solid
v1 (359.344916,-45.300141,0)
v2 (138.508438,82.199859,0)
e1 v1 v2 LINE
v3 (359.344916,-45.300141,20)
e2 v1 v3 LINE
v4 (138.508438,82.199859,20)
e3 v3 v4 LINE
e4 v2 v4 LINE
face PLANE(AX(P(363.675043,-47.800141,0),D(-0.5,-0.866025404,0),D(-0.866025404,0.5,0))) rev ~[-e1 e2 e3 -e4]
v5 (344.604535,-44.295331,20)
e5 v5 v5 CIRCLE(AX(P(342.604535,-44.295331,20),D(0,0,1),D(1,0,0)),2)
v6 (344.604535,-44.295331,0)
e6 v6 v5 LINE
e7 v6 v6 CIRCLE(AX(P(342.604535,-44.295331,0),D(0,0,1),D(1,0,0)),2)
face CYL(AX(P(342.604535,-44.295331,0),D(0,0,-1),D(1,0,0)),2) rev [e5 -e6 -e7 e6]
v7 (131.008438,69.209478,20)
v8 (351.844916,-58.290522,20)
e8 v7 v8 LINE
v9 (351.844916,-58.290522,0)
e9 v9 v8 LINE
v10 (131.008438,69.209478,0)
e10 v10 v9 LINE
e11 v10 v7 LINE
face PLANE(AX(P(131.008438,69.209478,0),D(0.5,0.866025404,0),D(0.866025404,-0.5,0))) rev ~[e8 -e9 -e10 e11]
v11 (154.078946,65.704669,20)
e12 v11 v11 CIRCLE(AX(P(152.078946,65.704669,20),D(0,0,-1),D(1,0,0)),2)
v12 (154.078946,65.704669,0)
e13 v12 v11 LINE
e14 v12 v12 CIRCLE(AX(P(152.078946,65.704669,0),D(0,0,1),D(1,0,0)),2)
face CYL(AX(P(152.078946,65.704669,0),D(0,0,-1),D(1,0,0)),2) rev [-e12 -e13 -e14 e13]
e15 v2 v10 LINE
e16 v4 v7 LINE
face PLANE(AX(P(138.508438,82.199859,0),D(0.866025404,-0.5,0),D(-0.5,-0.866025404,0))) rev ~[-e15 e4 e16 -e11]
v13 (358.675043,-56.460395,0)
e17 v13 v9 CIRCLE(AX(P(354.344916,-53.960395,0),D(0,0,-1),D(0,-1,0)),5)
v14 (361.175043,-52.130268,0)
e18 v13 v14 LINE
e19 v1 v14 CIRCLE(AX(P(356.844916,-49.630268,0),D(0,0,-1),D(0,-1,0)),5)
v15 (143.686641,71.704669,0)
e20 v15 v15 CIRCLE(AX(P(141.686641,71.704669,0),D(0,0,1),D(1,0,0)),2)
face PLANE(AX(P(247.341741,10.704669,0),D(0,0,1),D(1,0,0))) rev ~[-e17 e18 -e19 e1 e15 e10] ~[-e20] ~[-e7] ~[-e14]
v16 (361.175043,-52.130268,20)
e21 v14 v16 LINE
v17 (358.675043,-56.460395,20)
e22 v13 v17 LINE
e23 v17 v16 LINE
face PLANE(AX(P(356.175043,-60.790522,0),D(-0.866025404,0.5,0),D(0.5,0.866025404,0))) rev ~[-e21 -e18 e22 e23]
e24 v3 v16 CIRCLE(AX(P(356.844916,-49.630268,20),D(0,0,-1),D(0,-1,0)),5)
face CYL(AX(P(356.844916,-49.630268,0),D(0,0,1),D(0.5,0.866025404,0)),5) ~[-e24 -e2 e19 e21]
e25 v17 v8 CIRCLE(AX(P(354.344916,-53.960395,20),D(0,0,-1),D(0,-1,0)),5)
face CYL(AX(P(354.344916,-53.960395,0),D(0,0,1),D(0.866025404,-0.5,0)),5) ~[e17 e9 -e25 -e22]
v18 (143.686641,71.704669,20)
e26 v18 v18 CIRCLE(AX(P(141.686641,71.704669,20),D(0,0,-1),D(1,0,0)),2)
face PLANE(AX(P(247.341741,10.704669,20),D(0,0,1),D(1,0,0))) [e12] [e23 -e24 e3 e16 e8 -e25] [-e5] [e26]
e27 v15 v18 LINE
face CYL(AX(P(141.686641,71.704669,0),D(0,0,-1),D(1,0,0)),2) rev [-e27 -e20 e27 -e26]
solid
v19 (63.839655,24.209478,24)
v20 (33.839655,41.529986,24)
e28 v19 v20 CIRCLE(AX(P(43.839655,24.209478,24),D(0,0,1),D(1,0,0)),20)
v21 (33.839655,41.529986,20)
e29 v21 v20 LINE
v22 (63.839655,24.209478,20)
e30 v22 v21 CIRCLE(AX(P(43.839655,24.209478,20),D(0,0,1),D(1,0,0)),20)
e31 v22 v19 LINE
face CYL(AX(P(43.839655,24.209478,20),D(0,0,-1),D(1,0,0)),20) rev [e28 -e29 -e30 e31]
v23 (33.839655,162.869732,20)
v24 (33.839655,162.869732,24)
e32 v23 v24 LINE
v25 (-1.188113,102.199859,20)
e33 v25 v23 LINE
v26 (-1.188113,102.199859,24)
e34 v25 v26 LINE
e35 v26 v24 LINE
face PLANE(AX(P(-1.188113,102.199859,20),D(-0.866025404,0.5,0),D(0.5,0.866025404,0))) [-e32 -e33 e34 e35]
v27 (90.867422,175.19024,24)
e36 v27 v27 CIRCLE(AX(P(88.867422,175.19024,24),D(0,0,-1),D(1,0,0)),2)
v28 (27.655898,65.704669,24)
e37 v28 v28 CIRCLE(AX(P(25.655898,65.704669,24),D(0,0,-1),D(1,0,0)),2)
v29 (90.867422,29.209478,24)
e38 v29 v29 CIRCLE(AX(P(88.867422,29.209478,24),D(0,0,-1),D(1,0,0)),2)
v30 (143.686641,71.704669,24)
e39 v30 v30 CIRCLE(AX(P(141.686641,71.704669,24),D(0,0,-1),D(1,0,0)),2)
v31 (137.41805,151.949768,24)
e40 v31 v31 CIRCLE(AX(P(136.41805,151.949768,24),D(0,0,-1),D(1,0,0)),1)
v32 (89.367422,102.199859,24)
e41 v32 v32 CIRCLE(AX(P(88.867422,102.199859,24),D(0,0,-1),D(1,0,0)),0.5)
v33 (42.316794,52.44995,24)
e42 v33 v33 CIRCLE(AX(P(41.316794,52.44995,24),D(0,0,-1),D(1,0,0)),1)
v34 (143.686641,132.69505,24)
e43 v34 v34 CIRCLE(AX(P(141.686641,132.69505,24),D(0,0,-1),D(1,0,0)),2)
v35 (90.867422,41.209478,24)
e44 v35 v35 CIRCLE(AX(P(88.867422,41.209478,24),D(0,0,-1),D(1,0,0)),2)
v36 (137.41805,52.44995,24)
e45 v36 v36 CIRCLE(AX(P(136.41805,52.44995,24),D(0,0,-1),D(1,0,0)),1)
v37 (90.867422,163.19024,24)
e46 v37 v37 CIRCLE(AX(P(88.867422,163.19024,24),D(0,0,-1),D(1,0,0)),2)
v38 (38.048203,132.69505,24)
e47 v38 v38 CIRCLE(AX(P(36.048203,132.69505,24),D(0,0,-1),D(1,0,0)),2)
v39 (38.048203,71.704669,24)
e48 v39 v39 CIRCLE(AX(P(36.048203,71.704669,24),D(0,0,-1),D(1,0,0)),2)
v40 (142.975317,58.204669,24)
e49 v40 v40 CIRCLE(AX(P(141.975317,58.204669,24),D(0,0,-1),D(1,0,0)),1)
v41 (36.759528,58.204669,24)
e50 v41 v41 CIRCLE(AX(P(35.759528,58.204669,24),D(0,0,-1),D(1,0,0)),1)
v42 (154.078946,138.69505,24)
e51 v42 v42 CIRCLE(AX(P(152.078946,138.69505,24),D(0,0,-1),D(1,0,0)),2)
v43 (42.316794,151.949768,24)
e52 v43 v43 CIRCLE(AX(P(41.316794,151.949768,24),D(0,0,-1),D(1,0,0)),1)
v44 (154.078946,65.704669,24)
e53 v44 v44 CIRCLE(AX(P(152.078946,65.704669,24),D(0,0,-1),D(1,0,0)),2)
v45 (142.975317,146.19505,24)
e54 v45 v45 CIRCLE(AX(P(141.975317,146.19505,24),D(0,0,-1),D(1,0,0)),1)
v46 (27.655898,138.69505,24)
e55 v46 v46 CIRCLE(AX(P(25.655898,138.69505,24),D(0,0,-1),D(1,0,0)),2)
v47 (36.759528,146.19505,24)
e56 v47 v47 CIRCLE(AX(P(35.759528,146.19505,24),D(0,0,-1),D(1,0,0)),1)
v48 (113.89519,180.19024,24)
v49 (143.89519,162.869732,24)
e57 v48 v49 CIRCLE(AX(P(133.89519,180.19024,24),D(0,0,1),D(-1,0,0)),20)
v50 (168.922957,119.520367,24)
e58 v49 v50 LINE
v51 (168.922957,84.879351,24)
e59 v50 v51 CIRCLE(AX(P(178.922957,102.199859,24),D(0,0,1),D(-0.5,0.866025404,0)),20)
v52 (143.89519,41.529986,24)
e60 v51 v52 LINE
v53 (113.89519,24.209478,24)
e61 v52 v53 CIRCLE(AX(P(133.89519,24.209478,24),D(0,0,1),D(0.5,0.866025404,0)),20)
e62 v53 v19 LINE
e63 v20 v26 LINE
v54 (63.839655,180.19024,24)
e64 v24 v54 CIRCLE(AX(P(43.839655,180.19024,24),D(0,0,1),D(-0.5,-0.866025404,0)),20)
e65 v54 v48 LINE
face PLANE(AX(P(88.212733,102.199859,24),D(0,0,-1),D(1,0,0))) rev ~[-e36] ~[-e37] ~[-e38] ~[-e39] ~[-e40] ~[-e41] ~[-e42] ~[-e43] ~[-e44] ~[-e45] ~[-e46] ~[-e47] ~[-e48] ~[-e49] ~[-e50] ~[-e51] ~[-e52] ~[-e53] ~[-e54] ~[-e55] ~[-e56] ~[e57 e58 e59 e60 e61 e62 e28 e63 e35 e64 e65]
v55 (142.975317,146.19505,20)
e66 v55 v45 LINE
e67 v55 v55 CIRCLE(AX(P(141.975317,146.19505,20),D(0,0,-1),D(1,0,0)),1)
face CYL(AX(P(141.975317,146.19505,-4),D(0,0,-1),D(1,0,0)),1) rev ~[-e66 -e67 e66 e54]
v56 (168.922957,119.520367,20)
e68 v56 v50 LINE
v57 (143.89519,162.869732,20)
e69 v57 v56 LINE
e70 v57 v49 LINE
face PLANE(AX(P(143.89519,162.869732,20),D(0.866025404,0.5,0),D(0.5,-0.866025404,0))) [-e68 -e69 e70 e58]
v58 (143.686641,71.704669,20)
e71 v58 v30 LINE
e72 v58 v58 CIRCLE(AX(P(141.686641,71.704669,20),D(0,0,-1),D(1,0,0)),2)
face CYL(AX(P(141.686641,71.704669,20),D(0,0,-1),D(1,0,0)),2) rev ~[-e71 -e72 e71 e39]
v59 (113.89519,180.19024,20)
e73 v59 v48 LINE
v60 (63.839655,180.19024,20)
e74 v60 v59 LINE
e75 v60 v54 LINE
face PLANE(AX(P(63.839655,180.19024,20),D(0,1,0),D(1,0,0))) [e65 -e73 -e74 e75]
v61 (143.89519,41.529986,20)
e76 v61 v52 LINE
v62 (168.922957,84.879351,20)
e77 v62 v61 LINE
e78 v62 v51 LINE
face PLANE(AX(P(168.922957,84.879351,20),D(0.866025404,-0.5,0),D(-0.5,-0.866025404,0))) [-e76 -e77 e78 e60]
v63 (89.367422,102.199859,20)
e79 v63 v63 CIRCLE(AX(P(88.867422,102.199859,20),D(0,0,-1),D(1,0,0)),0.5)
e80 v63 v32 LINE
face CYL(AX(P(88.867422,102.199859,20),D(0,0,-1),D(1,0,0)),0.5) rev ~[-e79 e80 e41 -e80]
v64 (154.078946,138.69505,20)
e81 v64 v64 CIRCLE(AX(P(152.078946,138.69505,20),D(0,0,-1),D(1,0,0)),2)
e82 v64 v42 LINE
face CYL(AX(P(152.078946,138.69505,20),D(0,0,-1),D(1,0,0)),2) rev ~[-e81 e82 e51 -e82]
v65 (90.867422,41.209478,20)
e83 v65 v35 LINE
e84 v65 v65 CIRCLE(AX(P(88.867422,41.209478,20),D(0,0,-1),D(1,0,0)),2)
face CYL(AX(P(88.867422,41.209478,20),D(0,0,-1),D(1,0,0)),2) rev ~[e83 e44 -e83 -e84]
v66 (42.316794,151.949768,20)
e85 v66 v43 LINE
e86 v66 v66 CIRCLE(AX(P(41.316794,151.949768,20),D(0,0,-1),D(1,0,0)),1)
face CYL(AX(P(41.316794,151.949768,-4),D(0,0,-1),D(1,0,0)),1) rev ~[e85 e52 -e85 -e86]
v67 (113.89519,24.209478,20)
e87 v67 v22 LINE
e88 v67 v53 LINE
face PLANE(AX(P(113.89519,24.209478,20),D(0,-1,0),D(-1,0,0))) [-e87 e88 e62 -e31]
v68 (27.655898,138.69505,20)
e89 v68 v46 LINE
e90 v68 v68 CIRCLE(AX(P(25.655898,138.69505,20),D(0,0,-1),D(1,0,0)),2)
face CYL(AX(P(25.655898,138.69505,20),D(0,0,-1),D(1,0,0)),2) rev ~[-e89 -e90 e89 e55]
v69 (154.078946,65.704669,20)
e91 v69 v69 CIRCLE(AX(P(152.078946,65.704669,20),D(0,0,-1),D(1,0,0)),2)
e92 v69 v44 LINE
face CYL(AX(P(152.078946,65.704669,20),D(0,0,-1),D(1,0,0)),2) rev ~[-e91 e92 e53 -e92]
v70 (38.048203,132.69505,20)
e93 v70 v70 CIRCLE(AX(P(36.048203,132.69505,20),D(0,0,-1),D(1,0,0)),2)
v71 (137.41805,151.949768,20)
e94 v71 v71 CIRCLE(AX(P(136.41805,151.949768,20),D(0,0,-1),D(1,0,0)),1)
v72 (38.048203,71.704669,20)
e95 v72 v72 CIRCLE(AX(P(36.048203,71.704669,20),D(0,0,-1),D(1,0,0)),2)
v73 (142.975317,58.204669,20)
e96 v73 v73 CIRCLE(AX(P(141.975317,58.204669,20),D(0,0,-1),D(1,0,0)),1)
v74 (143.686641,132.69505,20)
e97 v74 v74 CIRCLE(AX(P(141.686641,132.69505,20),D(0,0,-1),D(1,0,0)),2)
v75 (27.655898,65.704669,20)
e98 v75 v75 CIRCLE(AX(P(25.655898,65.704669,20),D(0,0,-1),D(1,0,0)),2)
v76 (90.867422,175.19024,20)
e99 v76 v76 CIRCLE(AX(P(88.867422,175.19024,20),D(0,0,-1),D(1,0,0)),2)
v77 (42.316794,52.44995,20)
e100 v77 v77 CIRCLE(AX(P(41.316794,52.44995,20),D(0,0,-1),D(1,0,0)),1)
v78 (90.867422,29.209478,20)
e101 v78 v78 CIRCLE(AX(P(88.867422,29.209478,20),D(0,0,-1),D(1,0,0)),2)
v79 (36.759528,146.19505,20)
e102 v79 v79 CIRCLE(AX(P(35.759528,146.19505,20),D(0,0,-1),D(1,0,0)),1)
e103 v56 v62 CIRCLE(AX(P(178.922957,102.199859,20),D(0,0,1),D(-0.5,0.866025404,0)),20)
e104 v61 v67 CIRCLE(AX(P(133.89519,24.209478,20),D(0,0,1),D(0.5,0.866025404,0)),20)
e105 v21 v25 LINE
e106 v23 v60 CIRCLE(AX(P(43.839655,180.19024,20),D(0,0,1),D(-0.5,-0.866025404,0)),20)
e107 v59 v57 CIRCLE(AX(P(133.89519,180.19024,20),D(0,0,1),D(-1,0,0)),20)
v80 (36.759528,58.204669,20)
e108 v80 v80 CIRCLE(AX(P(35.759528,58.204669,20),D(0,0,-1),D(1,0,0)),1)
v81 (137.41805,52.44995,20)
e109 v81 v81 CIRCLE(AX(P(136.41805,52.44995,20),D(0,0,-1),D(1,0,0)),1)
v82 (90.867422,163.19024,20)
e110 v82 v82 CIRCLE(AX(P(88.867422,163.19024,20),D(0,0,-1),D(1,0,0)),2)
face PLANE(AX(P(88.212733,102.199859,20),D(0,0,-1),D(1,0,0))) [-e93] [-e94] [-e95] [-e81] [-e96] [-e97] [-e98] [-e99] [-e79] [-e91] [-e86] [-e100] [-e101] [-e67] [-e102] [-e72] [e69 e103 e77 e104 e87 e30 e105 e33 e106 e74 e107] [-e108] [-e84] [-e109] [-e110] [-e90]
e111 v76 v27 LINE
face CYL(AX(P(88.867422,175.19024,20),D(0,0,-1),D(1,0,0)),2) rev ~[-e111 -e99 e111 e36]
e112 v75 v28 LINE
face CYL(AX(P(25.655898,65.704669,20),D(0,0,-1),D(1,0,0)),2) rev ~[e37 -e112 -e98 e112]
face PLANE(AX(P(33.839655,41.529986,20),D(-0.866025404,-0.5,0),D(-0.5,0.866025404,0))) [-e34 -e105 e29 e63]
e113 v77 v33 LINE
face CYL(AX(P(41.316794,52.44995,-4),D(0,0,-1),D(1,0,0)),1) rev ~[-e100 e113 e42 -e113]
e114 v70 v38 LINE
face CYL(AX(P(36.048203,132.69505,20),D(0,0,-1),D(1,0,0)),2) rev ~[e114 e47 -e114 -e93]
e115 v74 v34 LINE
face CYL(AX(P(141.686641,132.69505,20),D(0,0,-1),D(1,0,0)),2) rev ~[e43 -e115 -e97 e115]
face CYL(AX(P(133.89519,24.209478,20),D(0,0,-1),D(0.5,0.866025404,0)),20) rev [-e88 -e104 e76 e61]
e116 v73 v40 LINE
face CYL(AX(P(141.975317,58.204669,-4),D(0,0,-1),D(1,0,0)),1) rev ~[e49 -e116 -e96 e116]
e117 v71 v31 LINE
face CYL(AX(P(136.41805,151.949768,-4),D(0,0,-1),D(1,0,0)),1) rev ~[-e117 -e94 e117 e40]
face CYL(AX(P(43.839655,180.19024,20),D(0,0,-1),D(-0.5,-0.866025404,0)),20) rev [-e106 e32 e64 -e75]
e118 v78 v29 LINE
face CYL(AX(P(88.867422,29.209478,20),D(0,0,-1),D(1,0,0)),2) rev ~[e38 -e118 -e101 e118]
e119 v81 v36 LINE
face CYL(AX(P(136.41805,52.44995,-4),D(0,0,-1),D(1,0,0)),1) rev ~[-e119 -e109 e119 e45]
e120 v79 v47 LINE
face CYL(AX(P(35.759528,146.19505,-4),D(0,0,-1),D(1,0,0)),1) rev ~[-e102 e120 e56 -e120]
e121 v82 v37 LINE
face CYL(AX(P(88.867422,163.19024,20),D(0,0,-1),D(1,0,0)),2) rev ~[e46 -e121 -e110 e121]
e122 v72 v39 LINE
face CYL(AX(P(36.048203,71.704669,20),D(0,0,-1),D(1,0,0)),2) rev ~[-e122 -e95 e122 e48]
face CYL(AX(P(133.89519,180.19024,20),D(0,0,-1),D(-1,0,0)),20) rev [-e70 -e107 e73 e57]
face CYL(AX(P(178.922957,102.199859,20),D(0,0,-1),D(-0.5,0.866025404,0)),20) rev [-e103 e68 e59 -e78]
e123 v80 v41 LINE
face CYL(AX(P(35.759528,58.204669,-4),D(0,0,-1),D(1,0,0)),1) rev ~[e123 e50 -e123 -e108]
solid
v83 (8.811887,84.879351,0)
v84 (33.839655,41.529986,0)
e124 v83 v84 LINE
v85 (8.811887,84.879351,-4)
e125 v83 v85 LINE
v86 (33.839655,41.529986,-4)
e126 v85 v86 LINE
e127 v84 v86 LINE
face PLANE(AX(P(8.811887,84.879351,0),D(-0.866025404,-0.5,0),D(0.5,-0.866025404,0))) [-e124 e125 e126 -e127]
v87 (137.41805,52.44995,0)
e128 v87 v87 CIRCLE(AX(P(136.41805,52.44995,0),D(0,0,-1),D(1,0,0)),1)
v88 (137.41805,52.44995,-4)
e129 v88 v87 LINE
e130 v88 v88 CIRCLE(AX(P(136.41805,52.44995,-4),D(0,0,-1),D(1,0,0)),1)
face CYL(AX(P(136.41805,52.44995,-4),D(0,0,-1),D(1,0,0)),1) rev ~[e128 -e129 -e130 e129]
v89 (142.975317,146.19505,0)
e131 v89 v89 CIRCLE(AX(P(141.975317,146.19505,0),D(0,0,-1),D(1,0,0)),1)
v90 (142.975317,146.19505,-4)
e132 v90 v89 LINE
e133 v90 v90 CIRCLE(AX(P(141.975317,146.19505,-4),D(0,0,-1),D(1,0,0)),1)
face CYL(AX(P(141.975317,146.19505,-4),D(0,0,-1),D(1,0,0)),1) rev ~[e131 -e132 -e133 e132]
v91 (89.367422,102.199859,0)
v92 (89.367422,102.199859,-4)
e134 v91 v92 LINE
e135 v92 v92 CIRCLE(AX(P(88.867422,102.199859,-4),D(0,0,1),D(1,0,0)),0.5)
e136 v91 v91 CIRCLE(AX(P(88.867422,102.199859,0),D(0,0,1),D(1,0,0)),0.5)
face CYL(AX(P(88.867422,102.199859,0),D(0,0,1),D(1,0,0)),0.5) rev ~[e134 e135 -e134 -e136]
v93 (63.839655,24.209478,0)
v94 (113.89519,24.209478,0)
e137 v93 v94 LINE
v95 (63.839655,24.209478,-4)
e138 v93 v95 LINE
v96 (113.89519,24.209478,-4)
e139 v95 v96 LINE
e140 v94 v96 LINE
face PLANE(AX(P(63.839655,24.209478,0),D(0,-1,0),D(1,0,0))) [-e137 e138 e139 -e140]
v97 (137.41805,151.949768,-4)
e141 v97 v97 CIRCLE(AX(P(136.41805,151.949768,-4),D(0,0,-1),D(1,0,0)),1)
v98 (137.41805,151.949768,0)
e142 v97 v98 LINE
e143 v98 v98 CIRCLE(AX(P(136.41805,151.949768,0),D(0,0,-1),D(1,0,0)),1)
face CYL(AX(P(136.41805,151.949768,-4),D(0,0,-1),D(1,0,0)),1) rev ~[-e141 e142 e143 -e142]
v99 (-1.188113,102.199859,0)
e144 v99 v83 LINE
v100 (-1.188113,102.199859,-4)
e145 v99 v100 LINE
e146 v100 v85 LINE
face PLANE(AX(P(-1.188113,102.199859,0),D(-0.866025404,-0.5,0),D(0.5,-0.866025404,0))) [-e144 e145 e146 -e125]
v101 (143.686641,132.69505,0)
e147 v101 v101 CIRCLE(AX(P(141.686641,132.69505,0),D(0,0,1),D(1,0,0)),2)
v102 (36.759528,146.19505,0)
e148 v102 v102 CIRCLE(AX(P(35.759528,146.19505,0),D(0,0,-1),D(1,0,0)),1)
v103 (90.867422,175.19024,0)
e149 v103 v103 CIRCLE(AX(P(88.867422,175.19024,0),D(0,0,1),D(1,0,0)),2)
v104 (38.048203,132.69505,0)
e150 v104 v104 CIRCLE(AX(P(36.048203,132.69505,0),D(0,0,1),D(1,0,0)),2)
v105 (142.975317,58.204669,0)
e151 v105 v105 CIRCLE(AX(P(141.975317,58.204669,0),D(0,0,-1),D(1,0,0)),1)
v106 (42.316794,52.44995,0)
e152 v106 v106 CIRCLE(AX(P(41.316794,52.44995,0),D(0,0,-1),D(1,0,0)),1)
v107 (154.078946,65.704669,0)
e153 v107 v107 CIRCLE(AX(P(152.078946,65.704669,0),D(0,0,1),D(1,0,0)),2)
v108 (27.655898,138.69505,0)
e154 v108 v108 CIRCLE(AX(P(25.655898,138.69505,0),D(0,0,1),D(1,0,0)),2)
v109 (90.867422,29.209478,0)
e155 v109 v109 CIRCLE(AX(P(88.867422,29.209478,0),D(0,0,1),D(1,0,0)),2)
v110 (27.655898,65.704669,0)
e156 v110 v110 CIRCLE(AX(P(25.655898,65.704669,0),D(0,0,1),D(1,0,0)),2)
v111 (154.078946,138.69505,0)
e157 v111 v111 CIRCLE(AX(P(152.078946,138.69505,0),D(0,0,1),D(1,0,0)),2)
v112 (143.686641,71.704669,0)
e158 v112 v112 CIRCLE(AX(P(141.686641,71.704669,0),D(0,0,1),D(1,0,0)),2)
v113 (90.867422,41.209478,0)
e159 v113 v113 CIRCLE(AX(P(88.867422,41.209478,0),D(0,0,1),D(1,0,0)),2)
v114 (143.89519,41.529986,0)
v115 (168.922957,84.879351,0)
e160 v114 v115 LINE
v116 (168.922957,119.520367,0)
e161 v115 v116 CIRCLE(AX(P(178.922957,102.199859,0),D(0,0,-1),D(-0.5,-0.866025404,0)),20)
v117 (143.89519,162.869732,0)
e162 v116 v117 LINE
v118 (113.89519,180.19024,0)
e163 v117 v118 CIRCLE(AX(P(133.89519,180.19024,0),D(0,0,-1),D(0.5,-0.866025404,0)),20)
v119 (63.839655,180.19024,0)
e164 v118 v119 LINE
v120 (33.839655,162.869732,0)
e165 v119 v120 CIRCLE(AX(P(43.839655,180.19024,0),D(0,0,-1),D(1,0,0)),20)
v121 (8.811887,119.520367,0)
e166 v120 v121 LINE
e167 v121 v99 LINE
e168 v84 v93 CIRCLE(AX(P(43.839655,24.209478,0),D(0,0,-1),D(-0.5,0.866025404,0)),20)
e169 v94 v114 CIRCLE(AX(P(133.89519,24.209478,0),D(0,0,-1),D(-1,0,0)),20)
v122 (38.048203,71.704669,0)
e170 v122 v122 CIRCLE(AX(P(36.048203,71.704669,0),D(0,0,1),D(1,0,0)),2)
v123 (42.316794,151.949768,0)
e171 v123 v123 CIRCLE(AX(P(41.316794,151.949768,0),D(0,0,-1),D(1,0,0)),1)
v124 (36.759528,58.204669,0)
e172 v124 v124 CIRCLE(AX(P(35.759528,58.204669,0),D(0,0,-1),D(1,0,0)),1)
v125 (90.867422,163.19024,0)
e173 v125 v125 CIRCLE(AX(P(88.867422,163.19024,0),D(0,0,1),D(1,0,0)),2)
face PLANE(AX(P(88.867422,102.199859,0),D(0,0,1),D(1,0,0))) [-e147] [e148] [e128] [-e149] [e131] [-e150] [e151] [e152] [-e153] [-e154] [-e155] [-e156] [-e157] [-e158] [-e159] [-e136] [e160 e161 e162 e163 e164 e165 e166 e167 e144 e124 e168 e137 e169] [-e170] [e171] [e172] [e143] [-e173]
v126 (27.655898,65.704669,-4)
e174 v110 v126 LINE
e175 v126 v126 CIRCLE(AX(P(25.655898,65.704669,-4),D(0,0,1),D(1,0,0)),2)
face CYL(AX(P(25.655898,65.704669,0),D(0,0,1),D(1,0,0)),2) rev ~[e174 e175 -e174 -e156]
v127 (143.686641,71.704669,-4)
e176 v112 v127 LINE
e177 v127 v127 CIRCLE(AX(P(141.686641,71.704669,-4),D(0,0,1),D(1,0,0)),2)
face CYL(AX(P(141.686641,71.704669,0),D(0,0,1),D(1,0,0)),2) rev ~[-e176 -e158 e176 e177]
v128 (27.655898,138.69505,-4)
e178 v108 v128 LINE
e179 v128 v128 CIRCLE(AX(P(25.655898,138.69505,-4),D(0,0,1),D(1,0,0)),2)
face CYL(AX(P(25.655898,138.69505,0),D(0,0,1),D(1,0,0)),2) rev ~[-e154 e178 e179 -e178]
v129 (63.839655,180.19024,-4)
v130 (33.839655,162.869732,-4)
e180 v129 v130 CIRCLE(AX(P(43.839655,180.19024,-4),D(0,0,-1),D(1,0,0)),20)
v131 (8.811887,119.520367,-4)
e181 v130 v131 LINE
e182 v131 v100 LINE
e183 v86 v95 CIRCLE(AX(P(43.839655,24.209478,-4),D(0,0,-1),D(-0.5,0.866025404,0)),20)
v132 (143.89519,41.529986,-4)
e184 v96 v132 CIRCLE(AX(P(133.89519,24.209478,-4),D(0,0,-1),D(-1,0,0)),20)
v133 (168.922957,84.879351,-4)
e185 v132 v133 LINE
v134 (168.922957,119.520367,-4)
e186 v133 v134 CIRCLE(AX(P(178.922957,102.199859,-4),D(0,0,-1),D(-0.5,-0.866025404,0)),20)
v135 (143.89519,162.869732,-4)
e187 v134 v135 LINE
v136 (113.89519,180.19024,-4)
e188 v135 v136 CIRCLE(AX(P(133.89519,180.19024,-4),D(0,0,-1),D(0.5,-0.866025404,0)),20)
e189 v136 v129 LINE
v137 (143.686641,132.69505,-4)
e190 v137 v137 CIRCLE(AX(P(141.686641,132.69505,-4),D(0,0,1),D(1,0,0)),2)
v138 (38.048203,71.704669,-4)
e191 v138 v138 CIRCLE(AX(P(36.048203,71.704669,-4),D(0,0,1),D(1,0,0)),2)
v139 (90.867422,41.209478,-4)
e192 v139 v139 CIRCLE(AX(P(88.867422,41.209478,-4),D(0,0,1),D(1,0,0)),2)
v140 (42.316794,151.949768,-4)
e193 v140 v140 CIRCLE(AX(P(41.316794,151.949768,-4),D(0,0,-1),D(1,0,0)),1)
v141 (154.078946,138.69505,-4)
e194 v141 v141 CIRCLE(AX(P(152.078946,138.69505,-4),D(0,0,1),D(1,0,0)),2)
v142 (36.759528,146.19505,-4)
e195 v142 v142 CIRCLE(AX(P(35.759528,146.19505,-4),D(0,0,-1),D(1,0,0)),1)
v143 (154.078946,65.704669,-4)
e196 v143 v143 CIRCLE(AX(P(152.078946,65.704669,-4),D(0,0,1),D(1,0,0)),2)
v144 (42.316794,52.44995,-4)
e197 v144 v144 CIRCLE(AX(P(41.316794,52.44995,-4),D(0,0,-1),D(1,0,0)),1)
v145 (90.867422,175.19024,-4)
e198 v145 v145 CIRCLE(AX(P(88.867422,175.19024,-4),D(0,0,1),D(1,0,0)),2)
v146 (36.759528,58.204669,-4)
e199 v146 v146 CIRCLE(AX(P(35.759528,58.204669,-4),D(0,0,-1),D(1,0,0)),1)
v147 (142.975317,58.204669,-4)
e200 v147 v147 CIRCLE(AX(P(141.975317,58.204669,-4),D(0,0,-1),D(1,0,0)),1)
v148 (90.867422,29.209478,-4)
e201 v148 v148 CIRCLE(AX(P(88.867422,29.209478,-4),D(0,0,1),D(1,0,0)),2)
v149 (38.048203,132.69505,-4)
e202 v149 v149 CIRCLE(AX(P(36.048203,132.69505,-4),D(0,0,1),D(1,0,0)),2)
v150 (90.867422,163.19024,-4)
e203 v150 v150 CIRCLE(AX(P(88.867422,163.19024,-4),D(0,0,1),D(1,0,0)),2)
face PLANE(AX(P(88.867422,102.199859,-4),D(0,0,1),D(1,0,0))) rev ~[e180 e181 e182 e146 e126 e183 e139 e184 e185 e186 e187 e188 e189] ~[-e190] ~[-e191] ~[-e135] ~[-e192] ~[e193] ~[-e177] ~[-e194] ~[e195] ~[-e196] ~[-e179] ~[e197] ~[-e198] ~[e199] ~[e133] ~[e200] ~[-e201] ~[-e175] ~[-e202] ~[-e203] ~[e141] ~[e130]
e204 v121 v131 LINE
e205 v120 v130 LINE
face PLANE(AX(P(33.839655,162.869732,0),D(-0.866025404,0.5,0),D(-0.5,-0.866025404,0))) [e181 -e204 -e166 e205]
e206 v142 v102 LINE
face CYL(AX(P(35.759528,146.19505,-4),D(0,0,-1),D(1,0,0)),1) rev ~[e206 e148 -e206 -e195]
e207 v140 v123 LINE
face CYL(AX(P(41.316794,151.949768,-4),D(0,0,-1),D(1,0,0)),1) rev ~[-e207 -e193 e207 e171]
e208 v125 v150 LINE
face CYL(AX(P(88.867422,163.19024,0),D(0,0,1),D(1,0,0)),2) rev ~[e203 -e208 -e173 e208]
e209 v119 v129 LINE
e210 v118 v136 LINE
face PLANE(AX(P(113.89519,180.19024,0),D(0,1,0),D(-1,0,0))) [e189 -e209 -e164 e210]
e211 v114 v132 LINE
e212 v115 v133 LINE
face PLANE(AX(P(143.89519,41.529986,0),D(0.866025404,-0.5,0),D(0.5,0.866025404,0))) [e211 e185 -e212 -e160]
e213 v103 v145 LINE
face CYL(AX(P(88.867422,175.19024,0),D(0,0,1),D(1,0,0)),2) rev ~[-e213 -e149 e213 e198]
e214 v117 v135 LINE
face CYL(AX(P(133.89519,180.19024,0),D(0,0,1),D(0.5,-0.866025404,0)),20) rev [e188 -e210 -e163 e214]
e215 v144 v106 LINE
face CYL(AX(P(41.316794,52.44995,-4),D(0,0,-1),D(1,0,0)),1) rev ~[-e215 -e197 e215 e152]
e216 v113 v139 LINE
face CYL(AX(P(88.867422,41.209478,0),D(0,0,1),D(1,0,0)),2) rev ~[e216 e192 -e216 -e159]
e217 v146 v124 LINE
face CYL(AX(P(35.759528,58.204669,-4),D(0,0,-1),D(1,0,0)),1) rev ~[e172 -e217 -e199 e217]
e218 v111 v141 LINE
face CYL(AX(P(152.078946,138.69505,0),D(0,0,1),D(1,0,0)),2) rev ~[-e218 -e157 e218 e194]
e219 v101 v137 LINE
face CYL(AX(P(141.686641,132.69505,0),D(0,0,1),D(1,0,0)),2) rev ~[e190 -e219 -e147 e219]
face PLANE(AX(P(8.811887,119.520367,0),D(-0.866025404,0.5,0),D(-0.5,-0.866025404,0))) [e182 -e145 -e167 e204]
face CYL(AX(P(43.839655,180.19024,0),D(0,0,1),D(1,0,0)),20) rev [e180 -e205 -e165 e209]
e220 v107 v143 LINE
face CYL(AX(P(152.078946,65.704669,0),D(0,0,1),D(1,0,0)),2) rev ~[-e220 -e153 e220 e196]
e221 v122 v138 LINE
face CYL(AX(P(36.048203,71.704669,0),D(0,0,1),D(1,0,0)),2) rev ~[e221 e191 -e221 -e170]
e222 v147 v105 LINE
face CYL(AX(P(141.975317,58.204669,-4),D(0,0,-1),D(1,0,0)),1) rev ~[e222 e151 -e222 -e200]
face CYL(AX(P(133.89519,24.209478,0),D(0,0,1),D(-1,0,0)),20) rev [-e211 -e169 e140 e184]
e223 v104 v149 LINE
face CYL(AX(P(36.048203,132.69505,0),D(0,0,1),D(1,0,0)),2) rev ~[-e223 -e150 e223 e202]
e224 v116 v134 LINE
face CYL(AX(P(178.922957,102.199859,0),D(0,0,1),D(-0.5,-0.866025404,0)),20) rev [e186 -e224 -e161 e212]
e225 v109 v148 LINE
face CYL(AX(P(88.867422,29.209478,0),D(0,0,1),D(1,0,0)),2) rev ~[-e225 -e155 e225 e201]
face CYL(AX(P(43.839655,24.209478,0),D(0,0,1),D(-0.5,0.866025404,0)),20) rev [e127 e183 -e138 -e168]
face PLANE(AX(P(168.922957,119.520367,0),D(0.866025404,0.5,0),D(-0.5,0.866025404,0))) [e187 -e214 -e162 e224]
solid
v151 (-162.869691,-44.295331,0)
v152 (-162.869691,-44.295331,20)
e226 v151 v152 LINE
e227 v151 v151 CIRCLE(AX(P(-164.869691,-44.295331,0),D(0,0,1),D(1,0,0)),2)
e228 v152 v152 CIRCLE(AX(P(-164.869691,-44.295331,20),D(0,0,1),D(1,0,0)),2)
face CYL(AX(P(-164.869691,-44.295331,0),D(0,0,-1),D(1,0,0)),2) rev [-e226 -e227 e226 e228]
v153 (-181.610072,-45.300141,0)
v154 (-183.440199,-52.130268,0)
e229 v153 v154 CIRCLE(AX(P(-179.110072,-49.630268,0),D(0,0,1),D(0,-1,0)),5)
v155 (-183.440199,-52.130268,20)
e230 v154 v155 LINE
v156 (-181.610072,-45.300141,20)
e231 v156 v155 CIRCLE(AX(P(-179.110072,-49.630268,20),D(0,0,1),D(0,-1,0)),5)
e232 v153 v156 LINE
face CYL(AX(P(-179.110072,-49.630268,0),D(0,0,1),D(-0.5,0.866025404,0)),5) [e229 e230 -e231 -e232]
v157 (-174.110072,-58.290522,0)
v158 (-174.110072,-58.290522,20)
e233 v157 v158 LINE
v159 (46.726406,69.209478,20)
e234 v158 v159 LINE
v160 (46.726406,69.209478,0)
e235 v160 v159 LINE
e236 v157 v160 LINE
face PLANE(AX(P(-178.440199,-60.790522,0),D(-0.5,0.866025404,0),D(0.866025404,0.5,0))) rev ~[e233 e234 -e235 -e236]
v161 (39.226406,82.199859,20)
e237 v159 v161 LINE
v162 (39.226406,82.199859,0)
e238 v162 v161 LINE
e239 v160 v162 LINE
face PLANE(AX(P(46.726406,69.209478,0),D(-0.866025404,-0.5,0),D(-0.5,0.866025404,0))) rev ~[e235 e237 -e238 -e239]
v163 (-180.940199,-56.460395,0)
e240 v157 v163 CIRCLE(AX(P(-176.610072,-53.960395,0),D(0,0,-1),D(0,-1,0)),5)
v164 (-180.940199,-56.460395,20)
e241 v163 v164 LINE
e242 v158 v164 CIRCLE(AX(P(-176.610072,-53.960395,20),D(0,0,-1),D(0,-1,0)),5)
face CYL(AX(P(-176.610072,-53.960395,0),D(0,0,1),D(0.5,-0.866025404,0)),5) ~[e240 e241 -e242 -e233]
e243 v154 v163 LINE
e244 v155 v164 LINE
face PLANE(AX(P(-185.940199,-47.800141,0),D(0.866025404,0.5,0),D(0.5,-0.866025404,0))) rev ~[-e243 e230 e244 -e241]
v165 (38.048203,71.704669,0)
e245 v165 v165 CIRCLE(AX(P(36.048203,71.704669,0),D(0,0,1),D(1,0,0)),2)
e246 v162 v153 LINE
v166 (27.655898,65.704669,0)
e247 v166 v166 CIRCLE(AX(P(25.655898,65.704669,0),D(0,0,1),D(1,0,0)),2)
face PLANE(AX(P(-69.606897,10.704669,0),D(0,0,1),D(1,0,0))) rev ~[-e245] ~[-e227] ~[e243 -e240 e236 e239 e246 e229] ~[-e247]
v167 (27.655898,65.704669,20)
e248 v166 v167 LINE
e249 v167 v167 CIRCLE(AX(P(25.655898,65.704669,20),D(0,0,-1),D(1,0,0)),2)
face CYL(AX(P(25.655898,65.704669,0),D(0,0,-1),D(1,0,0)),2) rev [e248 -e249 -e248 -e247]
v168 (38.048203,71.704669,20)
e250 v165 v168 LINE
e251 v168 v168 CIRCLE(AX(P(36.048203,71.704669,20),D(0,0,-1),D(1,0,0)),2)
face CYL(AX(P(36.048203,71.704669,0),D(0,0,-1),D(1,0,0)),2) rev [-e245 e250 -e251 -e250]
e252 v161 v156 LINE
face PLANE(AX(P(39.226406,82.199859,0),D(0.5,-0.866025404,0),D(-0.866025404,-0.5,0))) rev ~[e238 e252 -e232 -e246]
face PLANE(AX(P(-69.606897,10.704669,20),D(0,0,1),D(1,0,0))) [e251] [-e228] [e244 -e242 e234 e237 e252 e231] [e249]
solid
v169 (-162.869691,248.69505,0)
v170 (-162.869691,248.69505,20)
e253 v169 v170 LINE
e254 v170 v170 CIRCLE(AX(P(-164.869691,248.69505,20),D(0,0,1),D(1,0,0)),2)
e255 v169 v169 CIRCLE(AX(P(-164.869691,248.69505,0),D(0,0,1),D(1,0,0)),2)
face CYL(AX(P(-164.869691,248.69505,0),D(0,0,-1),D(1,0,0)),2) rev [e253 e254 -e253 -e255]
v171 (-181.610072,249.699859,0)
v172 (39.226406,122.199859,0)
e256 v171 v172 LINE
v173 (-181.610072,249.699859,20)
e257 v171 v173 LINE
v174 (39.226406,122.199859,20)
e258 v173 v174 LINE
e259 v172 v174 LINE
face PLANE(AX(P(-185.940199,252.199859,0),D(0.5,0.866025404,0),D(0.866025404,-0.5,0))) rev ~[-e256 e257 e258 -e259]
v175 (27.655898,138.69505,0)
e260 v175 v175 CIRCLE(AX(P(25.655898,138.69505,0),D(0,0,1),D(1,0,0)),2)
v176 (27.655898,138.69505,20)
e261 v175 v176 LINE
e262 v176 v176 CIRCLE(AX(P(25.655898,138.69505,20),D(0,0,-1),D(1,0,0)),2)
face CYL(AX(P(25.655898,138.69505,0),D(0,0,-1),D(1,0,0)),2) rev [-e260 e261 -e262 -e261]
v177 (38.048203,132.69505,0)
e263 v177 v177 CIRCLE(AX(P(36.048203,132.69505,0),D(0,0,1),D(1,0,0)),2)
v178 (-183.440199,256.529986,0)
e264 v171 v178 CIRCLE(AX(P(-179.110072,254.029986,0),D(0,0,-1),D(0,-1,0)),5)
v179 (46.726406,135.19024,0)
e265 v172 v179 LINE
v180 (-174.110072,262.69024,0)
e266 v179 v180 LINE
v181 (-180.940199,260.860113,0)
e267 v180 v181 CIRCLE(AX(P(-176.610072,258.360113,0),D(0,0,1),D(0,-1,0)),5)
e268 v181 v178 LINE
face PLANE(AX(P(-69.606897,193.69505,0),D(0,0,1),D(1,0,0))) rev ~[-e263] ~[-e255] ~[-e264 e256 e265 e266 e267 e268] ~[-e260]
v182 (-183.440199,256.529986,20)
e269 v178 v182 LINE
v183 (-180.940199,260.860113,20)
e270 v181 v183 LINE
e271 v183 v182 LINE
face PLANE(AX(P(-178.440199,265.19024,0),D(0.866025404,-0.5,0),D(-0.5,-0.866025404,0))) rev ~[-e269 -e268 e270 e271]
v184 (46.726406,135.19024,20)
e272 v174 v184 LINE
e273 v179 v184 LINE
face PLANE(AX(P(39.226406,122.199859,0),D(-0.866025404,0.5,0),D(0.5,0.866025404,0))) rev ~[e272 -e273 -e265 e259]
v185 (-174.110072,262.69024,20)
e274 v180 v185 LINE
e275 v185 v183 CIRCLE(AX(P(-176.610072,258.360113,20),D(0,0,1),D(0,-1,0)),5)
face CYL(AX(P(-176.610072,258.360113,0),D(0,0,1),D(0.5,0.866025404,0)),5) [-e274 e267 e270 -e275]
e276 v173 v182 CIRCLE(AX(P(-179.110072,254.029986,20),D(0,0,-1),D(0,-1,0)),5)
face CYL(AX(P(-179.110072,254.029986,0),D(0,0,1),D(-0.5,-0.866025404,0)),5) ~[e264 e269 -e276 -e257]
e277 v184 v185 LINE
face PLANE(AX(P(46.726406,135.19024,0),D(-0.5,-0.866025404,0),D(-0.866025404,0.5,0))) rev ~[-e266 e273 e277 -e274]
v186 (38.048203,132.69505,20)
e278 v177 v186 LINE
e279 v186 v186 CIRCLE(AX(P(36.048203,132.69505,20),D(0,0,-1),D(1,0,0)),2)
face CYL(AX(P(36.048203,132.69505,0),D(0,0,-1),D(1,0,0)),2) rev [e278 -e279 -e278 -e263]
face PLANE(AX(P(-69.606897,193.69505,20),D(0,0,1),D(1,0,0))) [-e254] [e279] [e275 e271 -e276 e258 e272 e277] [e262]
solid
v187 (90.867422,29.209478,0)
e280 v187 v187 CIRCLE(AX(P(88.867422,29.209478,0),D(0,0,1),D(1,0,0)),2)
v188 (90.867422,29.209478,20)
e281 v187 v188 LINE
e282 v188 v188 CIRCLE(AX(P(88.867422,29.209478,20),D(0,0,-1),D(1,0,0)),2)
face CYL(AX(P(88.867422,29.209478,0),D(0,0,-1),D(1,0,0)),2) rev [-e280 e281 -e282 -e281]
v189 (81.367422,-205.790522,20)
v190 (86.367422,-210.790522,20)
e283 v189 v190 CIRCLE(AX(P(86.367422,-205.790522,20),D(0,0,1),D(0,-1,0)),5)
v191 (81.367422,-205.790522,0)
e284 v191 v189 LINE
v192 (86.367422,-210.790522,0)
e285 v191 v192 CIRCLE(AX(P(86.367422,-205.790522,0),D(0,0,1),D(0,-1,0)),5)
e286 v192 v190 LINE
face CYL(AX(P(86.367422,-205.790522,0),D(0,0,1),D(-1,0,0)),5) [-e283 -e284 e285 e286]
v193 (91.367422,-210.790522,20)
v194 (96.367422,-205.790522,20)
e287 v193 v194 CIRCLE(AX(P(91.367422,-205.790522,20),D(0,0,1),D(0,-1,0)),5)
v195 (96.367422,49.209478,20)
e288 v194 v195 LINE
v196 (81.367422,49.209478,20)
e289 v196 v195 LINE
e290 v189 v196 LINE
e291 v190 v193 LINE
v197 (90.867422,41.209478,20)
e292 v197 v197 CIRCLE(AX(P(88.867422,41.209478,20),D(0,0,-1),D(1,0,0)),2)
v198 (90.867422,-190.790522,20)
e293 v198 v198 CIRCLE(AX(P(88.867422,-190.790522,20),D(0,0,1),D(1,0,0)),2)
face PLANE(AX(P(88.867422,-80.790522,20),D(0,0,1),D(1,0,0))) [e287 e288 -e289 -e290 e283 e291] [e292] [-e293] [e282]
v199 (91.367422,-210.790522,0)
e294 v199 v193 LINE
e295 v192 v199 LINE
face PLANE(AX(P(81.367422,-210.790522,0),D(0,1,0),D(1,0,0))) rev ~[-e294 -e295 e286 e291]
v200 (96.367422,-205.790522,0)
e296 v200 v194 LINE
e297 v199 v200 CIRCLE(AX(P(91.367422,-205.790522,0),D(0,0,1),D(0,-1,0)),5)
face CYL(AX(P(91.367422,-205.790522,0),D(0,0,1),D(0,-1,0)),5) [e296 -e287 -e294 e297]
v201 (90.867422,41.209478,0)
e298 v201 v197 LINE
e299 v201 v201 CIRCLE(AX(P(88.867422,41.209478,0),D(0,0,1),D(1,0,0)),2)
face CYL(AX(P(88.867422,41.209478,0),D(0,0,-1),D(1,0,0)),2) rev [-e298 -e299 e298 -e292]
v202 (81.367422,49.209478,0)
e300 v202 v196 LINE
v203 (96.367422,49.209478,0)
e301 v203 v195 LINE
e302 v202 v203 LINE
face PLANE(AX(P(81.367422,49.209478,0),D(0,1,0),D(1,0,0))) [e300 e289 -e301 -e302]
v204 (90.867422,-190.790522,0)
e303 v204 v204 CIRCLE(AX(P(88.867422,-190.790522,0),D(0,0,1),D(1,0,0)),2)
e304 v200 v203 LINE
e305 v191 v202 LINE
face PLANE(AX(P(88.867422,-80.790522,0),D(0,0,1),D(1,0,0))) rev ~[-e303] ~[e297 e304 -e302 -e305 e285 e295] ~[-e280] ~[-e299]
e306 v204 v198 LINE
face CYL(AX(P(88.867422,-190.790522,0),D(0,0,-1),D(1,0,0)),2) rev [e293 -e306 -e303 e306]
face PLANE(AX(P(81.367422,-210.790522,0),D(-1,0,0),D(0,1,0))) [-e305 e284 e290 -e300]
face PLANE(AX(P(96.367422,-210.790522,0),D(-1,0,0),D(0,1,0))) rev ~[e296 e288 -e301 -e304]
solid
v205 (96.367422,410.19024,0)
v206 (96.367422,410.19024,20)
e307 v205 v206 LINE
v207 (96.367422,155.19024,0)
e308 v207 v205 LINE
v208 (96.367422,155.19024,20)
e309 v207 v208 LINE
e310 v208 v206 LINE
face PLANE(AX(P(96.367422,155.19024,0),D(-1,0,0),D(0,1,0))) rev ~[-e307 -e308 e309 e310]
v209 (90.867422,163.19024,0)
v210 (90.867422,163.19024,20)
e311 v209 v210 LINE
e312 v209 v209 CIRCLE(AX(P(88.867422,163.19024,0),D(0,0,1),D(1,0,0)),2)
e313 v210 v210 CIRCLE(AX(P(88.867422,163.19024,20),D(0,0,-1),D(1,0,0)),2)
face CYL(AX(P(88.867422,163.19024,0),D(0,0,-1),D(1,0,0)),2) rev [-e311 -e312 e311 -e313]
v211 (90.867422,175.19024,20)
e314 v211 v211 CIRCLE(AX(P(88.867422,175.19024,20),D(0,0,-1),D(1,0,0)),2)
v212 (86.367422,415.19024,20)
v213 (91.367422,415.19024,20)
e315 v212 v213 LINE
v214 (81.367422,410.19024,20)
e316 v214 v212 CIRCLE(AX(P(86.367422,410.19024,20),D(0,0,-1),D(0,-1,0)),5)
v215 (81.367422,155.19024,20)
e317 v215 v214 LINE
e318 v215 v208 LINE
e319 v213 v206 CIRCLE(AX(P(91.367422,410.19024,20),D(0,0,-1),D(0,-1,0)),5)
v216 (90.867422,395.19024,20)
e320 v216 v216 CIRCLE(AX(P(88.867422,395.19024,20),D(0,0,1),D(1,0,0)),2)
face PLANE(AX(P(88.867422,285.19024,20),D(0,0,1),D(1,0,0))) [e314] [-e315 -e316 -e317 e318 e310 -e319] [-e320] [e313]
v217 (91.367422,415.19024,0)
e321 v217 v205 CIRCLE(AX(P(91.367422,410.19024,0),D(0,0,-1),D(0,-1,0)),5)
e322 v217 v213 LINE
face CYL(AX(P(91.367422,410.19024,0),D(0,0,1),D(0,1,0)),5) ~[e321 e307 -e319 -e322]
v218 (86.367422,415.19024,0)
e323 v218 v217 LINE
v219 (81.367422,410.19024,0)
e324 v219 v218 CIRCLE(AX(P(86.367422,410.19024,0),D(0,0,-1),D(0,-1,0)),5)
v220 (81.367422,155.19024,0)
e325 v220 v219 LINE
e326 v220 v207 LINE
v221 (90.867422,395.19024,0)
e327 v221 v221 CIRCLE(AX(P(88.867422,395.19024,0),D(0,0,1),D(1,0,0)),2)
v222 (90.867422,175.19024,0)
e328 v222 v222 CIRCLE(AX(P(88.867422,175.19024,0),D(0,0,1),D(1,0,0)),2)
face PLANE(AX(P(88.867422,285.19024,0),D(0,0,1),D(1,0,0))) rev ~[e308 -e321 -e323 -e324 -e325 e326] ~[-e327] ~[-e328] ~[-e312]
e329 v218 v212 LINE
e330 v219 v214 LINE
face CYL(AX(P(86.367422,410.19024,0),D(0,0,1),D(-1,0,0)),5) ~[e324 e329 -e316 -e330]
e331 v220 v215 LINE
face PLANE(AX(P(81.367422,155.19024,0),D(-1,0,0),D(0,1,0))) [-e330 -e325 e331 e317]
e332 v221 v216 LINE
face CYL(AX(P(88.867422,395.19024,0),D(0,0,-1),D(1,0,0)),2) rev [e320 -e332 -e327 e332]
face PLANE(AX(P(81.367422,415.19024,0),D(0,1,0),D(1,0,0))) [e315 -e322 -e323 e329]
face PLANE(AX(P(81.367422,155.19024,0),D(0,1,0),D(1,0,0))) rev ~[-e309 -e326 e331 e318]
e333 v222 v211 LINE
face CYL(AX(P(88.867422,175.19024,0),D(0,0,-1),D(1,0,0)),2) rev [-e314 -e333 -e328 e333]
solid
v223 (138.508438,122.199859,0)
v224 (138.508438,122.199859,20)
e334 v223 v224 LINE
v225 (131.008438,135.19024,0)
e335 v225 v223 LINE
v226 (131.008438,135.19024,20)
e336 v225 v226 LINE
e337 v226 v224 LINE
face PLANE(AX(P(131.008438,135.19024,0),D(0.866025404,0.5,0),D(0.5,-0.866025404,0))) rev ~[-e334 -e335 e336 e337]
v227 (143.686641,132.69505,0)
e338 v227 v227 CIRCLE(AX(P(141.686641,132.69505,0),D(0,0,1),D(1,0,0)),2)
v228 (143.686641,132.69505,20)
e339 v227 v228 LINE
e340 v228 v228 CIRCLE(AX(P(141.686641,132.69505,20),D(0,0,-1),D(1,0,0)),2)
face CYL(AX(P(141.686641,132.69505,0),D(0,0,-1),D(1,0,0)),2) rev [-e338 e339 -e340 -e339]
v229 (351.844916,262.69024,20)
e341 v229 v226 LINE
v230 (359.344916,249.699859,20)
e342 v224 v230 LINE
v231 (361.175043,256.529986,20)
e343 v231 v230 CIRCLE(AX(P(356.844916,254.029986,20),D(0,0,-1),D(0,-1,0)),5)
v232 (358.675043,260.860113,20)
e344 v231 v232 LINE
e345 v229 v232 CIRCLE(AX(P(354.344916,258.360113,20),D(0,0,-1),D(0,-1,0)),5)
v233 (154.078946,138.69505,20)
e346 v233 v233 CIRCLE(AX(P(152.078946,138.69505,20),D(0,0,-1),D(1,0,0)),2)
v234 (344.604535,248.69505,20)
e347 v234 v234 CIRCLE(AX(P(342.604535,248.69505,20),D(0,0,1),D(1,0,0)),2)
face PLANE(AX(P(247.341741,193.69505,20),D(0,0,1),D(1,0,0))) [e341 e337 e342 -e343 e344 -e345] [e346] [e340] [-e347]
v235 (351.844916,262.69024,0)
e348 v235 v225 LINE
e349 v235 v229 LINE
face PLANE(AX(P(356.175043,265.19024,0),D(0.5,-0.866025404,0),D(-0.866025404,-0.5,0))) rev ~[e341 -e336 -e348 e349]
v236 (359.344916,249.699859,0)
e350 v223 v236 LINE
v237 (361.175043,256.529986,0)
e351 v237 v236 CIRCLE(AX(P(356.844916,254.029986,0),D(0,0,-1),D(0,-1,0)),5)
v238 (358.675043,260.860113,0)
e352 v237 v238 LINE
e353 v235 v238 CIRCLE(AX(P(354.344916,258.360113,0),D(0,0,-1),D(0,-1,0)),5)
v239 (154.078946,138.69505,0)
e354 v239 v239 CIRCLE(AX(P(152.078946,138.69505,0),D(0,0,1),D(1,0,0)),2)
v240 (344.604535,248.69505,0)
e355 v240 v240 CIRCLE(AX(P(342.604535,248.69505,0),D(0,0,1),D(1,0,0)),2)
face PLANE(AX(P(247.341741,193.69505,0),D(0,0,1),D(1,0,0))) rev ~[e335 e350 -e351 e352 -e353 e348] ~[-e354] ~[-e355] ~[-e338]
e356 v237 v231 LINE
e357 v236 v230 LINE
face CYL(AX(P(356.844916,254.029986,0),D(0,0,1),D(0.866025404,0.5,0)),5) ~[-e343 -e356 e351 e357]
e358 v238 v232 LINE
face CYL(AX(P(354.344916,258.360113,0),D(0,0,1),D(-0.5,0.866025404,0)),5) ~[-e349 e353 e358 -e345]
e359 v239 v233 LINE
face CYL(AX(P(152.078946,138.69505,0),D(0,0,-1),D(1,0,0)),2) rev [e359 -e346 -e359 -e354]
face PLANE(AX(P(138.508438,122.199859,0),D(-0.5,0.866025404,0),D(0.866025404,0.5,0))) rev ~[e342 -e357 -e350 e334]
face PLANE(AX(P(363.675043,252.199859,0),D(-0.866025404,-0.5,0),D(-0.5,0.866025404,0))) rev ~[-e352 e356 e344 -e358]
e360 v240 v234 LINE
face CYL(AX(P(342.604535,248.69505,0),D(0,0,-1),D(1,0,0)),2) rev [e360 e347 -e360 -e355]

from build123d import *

# Parameters (mm, degrees)
F1_R        = 2
F2_DEPTH    = 20
F1_W        = 15
F1_H        = 260
F3_R        = 2
F3_R_2      = 0.5
F4_DEPTH    = 4
F5_START    = -24
F4_FACE_R   = 2
F4_FACE_R_2 = 0.5
F5_DEPTH    = 4
F6_DEPTH    = 40
F7_R        = 5
F7_2_R      = 5
F7_3_R      = 5
F7_4_R      = 5
F7_5_R      = 5
F7_6_R      = 5
F8_R        = 1
F9_DEPTH    = 28


with BuildPart() as f2:
    # F1 (on Top) → F2 (new body)
    with BuildSketch(Plane.XY):
        Polygon((39.2264058929, 122.199859211), (46.7264058929, 135.1902402677), (-178.4401990911, 265.1902402677), (-185.9401990911, 252.199859211), align=None)
        with Locations((-164.8696910154, 248.6950497393)):
            Circle(F1_R, mode=Mode.SUBTRACT)
    extrude(amount=F2_DEPTH)


with BuildPart() as f2b:
    # F1 (on Top) → F2, piece 2 (new body)
    with BuildSketch(Plane.XY):
        with Locations((88.8674220443, 285.1902402677)):
            Rectangle(F1_W, F1_H)
        with Locations((88.8674220443, 395.1902402677)):
            Circle(F1_R, mode=Mode.SUBTRACT)
    extrude(amount=F2_DEPTH)


with BuildPart() as f2c:
    # F1 (on Top) → F2, piece 3 (new body)
    with BuildSketch(Plane.XY):
        Polygon((356.1750431796, 265.1902402677), (131.0084381957, 135.1902402677), (138.5084381957, 122.199859211), (363.6750431796, 252.199859211), align=None)
        with Locations((342.6045351039, 248.6950497393)):
            Circle(F1_R, mode=Mode.SUBTRACT)
    extrude(amount=F2_DEPTH)


with BuildPart() as f2d:
    # F1 (on Top) → F2, piece 4 (new body)
    with BuildSketch(Plane.XY):
        Polygon((363.6750431796, -47.800140789), (138.5084381957, 82.199859211), (131.0084381957, 69.2094781542), (356.1750431796, -60.7905218458), align=None)
        with Locations((342.6045351039, -44.2953313174)):
            Circle(F1_R, mode=Mode.SUBTRACT)
    extrude(amount=F2_DEPTH)


with BuildPart() as f2e:
    # F1 (on Top) → F2, piece 5 (new body)
    with BuildSketch(Plane.XY):
        with Locations((88.8674220443, -80.7905218458)):
            Rectangle(F1_W, F1_H)
        with Locations((88.8674220443, -190.7905218458)):
            Circle(F1_R, mode=Mode.SUBTRACT)
    extrude(amount=F2_DEPTH)


with BuildPart() as f2f:
    # F1 (on Top) → F2, piece 6 (new body)
    with BuildSketch(Plane.XY):
        Polygon((46.7264058929, 69.2094781542), (39.2264058929, 82.199859211), (-185.9401990911, -47.800140789), (-178.4401990911, -60.7905218458), align=None)
        with Locations((-164.8696910154, -44.2953313174)):
            Circle(F1_R, mode=Mode.SUBTRACT)
    extrude(amount=F2_DEPTH)


with BuildPart() as f4:
    # F3 (on Top) → F4 (new body)
    with BuildSketch(Plane.XY):
        with BuildLine():
            Line((113.8951895416, 180.1902402677), (63.839654547, 180.1902402677))
            ThreePointArc((63.839654547, 180.1902402677), (53.839654547, 162.869732192), (33.839654547, 162.869732192))
            Line((33.839654547, 162.869732192), (8.8118870496, 119.5203672867))
            ThreePointArc((8.8118870496, 119.5203672867), (18.8118870496, 102.199859211), (8.8118870496, 84.8793511353))
            Line((8.8118870496, 84.8793511353), (33.839654547, 41.5299862299))
            ThreePointArc((33.839654547, 41.5299862299), (53.839654547, 41.5299862299), (63.839654547, 24.2094781542))
            Line((63.839654547, 24.2094781542), (113.8951895416, 24.2094781542))
            ThreePointArc((113.8951895416, 24.2094781542), (123.8951895416, 41.5299862299), (143.8951895416, 41.5299862299))
            Line((143.8951895416, 41.5299862299), (168.9229570389, 84.8793511353))
            ThreePointArc((168.9229570389, 84.8793511353), (158.9229570389, 102.199859211), (168.9229570389, 119.5203672867))
            Line((168.9229570389, 119.5203672867), (143.8951895416, 162.869732192))
            ThreePointArc((143.8951895416, 162.869732192), (123.8951895416, 162.869732192), (113.8951895416, 180.1902402677))
        make_face()
        with Locations((88.8674220443, 29.2094781542)):
            Circle(F3_R, mode=Mode.SUBTRACT)
        with Locations((88.8674220443, 41.2094781542)):
            Circle(F3_R, mode=Mode.SUBTRACT)
        with Locations((25.6558978172, 65.7046686826)):
            Circle(F3_R, mode=Mode.SUBTRACT)
        with Locations((36.0482026626, 71.7046686826)):
            Circle(F3_R, mode=Mode.SUBTRACT)
        with Locations((141.6866414259, 71.7046686826)):
            Circle(F3_R, mode=Mode.SUBTRACT)
        with Locations((152.0789462713, 65.7046686826)):
            Circle(F3_R, mode=Mode.SUBTRACT)
        with Locations((25.6558978172, 138.6950497393)):
            Circle(F3_R, mode=Mode.SUBTRACT)
        with Locations((36.0482026626, 132.6950497393)):
            Circle(F3_R, mode=Mode.SUBTRACT)
        with Locations((88.8674220443, 102.199859211)):
            Circle(F3_R_2, mode=Mode.SUBTRACT)
        with Locations((88.8674220443, 163.1902402677)):
            Circle(F3_R, mode=Mode.SUBTRACT)
        with Locations((88.8674220443, 175.1902402677)):
            Circle(F3_R, mode=Mode.SUBTRACT)
        with Locations((141.6866414259, 132.6950497393)):
            Circle(F3_R, mode=Mode.SUBTRACT)
        with Locations((152.0789462713, 138.6950497393)):
            Circle(F3_R, mode=Mode.SUBTRACT)
        with BuildLine():
            ThreePointArc((8.8118870496, 84.8793511353), (18.8118870496, 102.199859211), (8.8118870496, 119.5203672867))
            Line((8.8118870496, 119.5203672867), (-1.1881129504, 102.199859211))
            Line((-1.1881129504, 102.199859211), (8.8118870496, 84.8793511353))
        make_face()
    extrude(amount=-F4_DEPTH)


with BuildPart() as f5:
    # F4_face (on face) → F5 (new body)
    with BuildSketch(Plane(origin=(87.1088779313, 102.199859211, -4), x_dir=(1, 0, 0), z_dir=(0, 0, -1)).offset(F5_START)):
        with BuildLine():
            ThreePointArc((26.7863116103, -77.9903810568), (36.7863116103, -60.6698729811), (56.7863116103, -60.6698729811))
            Line((56.7863116103, -60.6698729811), (81.8140791076, -17.3205080757))
            ThreePointArc((81.8140791076, -17.3205080757), (71.8140791076, 0), (81.8140791076, 17.3205080757))
            Line((81.8140791076, 17.3205080757), (56.7863116103, 60.6698729811))
            ThreePointArc((56.7863116103, 60.6698729811), (36.7863116103, 60.6698729811), (26.7863116103, 77.9903810568))
            Line((26.7863116103, 77.9903810568), (-23.2692233843, 77.9903810568))
            ThreePointArc((-23.2692233843, 77.9903810568), (-33.2692233843, 60.6698729811), (-53.2692233843, 60.6698729811))
            Line((-53.2692233843, 60.6698729811), (-88.2969908817, 0))
            Line((-88.2969908817, 0), (-53.2692233843, -60.6698729811))
            ThreePointArc((-53.2692233843, -60.6698729811), (-33.2692233843, -60.6698729811), (-23.2692233843, -77.9903810568))
            Line((-23.2692233843, -77.9903810568), (26.7863116103, -77.9903810568))
        make_face()
        with Locations((1.758544113, 72.9903810568)):
            Circle(F4_FACE_R, mode=Mode.SUBTRACT)
        with Locations((1.758544113, 60.9903810568)):
            Circle(F4_FACE_R, mode=Mode.SUBTRACT)
        with Locations((-61.4529801141, 36.4951905284)):
            Circle(F4_FACE_R, mode=Mode.SUBTRACT)
        with Locations((-51.0606752687, 30.4951905284)):
            Circle(F4_FACE_R, mode=Mode.SUBTRACT)
        with Locations((54.5777634946, 30.4951905284)):
            Circle(F4_FACE_R, mode=Mode.SUBTRACT)
        with Locations((64.9700683401, 36.4951905284)):
            Circle(F4_FACE_R, mode=Mode.SUBTRACT)
        with Locations((-61.4529801141, -36.4951905284)):
            Circle(F4_FACE_R, mode=Mode.SUBTRACT)
        with Locations((-51.0606752687, -30.4951905284)):
            Circle(F4_FACE_R, mode=Mode.SUBTRACT)
        with Locations((1.758544113, 0)):
            Circle(F4_FACE_R_2, mode=Mode.SUBTRACT)
        with Locations((1.758544113, -60.9903810568)):
            Circle(F4_FACE_R, mode=Mode.SUBTRACT)
        with Locations((1.758544113, -72.9903810568)):
            Circle(F4_FACE_R, mode=Mode.SUBTRACT)
        with Locations((54.5777634946, -30.4951905284)):
            Circle(F4_FACE_R, mode=Mode.SUBTRACT)
        with Locations((64.9700683401, -36.4951905284)):
            Circle(F4_FACE_R, mode=Mode.SUBTRACT)
    extrude(amount=-F5_DEPTH)


with BuildPart() as f6_tool:
    # F3 (on Top) → F6 (new body)
    with BuildSketch(Plane.XY):
        with Locations((88.8674220443, 29.2094781542)):
            Circle(F3_R)
        with Locations((36.0482026626, 71.7046686826)):
            Circle(F3_R)
        with Locations((25.6558978172, 65.7046686826)):
            Circle(F3_R)
        with Locations((25.6558978172, 138.6950497393)):
            Circle(F3_R)
        with Locations((36.0482026626, 132.6950497393)):
            Circle(F3_R)
        with Locations((88.8674220443, 163.1902402677)):
            Circle(F3_R)
        with Locations((88.8674220443, 175.1902402677)):
            Circle(F3_R)
        with Locations((88.8674220443, 41.2094781542)):
            Circle(F3_R)
        with Locations((141.6866414259, 71.7046686826)):
            Circle(F3_R)
        with Locations((152.0789462713, 138.6950497393)):
            Circle(F3_R)
        with Locations((141.6866414259, 132.6950497393)):
            Circle(F3_R)
        with Locations((152.0789462713, 65.7046686826)):
            Circle(F3_R)
    extrude(amount=F6_DEPTH)


with BuildPart() as f2_1:
    add(f2.part)

    # F6: cut by f6_tool
    add(f6_tool.part, mode=Mode.SUBTRACT)

    # F7#2
    f7_2_edges = [f2_1.edges().sort_by_distance(p)[0] for p in [
        (-185.940199, 252.199859, 10),
        (-178.440199, 265.19024, 10),
    ]]
    fillet(f7_2_edges, radius=F7_2_R)


with BuildPart() as f2b_1:
    add(f2b.part)

    # F6: cut by f6_tool
    add(f6_tool.part, mode=Mode.SUBTRACT)

    # F7#3
    f7_3_edges = [f2b_1.edges().sort_by_distance(p)[0] for p in [
        (81.367422, 415.19024, 10),
        (96.367422, 415.19024, 10),
    ]]
    fillet(f7_3_edges, radius=F7_3_R)


with BuildPart() as f2c_1:
    add(f2c.part)

    # F6: cut by f6_tool
    add(f6_tool.part, mode=Mode.SUBTRACT)

    # F7#4
    f7_4_edges = [f2c_1.edges().sort_by_distance(p)[0] for p in [
        (363.675043, 252.199859, 10),
        (356.175043, 265.19024, 10),
    ]]
    fillet(f7_4_edges, radius=F7_4_R)


with BuildPart() as f2d_1:
    add(f2d.part)

    # F6: cut by f6_tool
    add(f6_tool.part, mode=Mode.SUBTRACT)

    # F7#5
    f7_5_edges = [f2d_1.edges().sort_by_distance(p)[0] for p in [
        (363.675043, -47.800141, 10),
        (356.175043, -60.790522, 10),
    ]]
    fillet(f7_5_edges, radius=F7_5_R)


with BuildPart() as f2e_1:
    add(f2e.part)

    # F6: cut by f6_tool
    add(f6_tool.part, mode=Mode.SUBTRACT)

    # F7#6
    f7_6_edges = [f2e_1.edges().sort_by_distance(p)[0] for p in [
        (96.367422, -210.790522, 10),
        (81.367422, -210.790522, 10),
    ]]
    fillet(f7_6_edges, radius=F7_6_R)


with BuildPart() as f2f_1:
    add(f2f.part)

    # F6: cut by f6_tool
    add(f6_tool.part, mode=Mode.SUBTRACT)

    # F7
    f7_edges = [f2f_1.edges().sort_by_distance(p)[0] for p in [
        (-178.440199, -60.790522, 10),
        (-185.940199, -47.800141, 10),
    ]]
    fillet(f7_edges, radius=F7_R)


with BuildPart() as f9_tool:
    # F8 (on face) → F9 (new body, through all)
    with BuildSketch(Plane(origin=(0, 0, -4), x_dir=(1, 0, 0), z_dir=(0, 0, -1))):
        with Locations((35.759527528, -58.2046686826)):
            Circle(F8_R)
        with Locations((41.3167944917, -52.4499502799)):
            Circle(F8_R)
        with Locations((41.3167944917, -151.9497681421)):
            Circle(F8_R)
        with Locations((35.759527528, -146.1950497393)):
            Circle(F8_R)
        with Locations((136.4180495969, -52.4499502799)):
            Circle(F8_R)
        with Locations((141.9753165605, -58.2046686826)):
            Circle(F8_R)
        with Locations((136.4180495969, -151.9497681421)):
            Circle(F8_R)
        with Locations((141.9753165605, -146.1950497393)):
            Circle(F8_R)
    extrude(amount=-F9_DEPTH)


with BuildPart() as f4_1:
    add(f4.part)

    # F9: cut by f9_tool
    add(f9_tool.part, mode=Mode.SUBTRACT)


with BuildPart() as f5_1:
    add(f5.part)

    # F9: cut by f9_tool
    add(f9_tool.part, mode=Mode.SUBTRACT)


solid = Compound([f2_1.part, f2b_1.part, f2c_1.part, f2d_1.part, f2e_1.part, f2f_1.part, f4_1.part, f5_1.part])
